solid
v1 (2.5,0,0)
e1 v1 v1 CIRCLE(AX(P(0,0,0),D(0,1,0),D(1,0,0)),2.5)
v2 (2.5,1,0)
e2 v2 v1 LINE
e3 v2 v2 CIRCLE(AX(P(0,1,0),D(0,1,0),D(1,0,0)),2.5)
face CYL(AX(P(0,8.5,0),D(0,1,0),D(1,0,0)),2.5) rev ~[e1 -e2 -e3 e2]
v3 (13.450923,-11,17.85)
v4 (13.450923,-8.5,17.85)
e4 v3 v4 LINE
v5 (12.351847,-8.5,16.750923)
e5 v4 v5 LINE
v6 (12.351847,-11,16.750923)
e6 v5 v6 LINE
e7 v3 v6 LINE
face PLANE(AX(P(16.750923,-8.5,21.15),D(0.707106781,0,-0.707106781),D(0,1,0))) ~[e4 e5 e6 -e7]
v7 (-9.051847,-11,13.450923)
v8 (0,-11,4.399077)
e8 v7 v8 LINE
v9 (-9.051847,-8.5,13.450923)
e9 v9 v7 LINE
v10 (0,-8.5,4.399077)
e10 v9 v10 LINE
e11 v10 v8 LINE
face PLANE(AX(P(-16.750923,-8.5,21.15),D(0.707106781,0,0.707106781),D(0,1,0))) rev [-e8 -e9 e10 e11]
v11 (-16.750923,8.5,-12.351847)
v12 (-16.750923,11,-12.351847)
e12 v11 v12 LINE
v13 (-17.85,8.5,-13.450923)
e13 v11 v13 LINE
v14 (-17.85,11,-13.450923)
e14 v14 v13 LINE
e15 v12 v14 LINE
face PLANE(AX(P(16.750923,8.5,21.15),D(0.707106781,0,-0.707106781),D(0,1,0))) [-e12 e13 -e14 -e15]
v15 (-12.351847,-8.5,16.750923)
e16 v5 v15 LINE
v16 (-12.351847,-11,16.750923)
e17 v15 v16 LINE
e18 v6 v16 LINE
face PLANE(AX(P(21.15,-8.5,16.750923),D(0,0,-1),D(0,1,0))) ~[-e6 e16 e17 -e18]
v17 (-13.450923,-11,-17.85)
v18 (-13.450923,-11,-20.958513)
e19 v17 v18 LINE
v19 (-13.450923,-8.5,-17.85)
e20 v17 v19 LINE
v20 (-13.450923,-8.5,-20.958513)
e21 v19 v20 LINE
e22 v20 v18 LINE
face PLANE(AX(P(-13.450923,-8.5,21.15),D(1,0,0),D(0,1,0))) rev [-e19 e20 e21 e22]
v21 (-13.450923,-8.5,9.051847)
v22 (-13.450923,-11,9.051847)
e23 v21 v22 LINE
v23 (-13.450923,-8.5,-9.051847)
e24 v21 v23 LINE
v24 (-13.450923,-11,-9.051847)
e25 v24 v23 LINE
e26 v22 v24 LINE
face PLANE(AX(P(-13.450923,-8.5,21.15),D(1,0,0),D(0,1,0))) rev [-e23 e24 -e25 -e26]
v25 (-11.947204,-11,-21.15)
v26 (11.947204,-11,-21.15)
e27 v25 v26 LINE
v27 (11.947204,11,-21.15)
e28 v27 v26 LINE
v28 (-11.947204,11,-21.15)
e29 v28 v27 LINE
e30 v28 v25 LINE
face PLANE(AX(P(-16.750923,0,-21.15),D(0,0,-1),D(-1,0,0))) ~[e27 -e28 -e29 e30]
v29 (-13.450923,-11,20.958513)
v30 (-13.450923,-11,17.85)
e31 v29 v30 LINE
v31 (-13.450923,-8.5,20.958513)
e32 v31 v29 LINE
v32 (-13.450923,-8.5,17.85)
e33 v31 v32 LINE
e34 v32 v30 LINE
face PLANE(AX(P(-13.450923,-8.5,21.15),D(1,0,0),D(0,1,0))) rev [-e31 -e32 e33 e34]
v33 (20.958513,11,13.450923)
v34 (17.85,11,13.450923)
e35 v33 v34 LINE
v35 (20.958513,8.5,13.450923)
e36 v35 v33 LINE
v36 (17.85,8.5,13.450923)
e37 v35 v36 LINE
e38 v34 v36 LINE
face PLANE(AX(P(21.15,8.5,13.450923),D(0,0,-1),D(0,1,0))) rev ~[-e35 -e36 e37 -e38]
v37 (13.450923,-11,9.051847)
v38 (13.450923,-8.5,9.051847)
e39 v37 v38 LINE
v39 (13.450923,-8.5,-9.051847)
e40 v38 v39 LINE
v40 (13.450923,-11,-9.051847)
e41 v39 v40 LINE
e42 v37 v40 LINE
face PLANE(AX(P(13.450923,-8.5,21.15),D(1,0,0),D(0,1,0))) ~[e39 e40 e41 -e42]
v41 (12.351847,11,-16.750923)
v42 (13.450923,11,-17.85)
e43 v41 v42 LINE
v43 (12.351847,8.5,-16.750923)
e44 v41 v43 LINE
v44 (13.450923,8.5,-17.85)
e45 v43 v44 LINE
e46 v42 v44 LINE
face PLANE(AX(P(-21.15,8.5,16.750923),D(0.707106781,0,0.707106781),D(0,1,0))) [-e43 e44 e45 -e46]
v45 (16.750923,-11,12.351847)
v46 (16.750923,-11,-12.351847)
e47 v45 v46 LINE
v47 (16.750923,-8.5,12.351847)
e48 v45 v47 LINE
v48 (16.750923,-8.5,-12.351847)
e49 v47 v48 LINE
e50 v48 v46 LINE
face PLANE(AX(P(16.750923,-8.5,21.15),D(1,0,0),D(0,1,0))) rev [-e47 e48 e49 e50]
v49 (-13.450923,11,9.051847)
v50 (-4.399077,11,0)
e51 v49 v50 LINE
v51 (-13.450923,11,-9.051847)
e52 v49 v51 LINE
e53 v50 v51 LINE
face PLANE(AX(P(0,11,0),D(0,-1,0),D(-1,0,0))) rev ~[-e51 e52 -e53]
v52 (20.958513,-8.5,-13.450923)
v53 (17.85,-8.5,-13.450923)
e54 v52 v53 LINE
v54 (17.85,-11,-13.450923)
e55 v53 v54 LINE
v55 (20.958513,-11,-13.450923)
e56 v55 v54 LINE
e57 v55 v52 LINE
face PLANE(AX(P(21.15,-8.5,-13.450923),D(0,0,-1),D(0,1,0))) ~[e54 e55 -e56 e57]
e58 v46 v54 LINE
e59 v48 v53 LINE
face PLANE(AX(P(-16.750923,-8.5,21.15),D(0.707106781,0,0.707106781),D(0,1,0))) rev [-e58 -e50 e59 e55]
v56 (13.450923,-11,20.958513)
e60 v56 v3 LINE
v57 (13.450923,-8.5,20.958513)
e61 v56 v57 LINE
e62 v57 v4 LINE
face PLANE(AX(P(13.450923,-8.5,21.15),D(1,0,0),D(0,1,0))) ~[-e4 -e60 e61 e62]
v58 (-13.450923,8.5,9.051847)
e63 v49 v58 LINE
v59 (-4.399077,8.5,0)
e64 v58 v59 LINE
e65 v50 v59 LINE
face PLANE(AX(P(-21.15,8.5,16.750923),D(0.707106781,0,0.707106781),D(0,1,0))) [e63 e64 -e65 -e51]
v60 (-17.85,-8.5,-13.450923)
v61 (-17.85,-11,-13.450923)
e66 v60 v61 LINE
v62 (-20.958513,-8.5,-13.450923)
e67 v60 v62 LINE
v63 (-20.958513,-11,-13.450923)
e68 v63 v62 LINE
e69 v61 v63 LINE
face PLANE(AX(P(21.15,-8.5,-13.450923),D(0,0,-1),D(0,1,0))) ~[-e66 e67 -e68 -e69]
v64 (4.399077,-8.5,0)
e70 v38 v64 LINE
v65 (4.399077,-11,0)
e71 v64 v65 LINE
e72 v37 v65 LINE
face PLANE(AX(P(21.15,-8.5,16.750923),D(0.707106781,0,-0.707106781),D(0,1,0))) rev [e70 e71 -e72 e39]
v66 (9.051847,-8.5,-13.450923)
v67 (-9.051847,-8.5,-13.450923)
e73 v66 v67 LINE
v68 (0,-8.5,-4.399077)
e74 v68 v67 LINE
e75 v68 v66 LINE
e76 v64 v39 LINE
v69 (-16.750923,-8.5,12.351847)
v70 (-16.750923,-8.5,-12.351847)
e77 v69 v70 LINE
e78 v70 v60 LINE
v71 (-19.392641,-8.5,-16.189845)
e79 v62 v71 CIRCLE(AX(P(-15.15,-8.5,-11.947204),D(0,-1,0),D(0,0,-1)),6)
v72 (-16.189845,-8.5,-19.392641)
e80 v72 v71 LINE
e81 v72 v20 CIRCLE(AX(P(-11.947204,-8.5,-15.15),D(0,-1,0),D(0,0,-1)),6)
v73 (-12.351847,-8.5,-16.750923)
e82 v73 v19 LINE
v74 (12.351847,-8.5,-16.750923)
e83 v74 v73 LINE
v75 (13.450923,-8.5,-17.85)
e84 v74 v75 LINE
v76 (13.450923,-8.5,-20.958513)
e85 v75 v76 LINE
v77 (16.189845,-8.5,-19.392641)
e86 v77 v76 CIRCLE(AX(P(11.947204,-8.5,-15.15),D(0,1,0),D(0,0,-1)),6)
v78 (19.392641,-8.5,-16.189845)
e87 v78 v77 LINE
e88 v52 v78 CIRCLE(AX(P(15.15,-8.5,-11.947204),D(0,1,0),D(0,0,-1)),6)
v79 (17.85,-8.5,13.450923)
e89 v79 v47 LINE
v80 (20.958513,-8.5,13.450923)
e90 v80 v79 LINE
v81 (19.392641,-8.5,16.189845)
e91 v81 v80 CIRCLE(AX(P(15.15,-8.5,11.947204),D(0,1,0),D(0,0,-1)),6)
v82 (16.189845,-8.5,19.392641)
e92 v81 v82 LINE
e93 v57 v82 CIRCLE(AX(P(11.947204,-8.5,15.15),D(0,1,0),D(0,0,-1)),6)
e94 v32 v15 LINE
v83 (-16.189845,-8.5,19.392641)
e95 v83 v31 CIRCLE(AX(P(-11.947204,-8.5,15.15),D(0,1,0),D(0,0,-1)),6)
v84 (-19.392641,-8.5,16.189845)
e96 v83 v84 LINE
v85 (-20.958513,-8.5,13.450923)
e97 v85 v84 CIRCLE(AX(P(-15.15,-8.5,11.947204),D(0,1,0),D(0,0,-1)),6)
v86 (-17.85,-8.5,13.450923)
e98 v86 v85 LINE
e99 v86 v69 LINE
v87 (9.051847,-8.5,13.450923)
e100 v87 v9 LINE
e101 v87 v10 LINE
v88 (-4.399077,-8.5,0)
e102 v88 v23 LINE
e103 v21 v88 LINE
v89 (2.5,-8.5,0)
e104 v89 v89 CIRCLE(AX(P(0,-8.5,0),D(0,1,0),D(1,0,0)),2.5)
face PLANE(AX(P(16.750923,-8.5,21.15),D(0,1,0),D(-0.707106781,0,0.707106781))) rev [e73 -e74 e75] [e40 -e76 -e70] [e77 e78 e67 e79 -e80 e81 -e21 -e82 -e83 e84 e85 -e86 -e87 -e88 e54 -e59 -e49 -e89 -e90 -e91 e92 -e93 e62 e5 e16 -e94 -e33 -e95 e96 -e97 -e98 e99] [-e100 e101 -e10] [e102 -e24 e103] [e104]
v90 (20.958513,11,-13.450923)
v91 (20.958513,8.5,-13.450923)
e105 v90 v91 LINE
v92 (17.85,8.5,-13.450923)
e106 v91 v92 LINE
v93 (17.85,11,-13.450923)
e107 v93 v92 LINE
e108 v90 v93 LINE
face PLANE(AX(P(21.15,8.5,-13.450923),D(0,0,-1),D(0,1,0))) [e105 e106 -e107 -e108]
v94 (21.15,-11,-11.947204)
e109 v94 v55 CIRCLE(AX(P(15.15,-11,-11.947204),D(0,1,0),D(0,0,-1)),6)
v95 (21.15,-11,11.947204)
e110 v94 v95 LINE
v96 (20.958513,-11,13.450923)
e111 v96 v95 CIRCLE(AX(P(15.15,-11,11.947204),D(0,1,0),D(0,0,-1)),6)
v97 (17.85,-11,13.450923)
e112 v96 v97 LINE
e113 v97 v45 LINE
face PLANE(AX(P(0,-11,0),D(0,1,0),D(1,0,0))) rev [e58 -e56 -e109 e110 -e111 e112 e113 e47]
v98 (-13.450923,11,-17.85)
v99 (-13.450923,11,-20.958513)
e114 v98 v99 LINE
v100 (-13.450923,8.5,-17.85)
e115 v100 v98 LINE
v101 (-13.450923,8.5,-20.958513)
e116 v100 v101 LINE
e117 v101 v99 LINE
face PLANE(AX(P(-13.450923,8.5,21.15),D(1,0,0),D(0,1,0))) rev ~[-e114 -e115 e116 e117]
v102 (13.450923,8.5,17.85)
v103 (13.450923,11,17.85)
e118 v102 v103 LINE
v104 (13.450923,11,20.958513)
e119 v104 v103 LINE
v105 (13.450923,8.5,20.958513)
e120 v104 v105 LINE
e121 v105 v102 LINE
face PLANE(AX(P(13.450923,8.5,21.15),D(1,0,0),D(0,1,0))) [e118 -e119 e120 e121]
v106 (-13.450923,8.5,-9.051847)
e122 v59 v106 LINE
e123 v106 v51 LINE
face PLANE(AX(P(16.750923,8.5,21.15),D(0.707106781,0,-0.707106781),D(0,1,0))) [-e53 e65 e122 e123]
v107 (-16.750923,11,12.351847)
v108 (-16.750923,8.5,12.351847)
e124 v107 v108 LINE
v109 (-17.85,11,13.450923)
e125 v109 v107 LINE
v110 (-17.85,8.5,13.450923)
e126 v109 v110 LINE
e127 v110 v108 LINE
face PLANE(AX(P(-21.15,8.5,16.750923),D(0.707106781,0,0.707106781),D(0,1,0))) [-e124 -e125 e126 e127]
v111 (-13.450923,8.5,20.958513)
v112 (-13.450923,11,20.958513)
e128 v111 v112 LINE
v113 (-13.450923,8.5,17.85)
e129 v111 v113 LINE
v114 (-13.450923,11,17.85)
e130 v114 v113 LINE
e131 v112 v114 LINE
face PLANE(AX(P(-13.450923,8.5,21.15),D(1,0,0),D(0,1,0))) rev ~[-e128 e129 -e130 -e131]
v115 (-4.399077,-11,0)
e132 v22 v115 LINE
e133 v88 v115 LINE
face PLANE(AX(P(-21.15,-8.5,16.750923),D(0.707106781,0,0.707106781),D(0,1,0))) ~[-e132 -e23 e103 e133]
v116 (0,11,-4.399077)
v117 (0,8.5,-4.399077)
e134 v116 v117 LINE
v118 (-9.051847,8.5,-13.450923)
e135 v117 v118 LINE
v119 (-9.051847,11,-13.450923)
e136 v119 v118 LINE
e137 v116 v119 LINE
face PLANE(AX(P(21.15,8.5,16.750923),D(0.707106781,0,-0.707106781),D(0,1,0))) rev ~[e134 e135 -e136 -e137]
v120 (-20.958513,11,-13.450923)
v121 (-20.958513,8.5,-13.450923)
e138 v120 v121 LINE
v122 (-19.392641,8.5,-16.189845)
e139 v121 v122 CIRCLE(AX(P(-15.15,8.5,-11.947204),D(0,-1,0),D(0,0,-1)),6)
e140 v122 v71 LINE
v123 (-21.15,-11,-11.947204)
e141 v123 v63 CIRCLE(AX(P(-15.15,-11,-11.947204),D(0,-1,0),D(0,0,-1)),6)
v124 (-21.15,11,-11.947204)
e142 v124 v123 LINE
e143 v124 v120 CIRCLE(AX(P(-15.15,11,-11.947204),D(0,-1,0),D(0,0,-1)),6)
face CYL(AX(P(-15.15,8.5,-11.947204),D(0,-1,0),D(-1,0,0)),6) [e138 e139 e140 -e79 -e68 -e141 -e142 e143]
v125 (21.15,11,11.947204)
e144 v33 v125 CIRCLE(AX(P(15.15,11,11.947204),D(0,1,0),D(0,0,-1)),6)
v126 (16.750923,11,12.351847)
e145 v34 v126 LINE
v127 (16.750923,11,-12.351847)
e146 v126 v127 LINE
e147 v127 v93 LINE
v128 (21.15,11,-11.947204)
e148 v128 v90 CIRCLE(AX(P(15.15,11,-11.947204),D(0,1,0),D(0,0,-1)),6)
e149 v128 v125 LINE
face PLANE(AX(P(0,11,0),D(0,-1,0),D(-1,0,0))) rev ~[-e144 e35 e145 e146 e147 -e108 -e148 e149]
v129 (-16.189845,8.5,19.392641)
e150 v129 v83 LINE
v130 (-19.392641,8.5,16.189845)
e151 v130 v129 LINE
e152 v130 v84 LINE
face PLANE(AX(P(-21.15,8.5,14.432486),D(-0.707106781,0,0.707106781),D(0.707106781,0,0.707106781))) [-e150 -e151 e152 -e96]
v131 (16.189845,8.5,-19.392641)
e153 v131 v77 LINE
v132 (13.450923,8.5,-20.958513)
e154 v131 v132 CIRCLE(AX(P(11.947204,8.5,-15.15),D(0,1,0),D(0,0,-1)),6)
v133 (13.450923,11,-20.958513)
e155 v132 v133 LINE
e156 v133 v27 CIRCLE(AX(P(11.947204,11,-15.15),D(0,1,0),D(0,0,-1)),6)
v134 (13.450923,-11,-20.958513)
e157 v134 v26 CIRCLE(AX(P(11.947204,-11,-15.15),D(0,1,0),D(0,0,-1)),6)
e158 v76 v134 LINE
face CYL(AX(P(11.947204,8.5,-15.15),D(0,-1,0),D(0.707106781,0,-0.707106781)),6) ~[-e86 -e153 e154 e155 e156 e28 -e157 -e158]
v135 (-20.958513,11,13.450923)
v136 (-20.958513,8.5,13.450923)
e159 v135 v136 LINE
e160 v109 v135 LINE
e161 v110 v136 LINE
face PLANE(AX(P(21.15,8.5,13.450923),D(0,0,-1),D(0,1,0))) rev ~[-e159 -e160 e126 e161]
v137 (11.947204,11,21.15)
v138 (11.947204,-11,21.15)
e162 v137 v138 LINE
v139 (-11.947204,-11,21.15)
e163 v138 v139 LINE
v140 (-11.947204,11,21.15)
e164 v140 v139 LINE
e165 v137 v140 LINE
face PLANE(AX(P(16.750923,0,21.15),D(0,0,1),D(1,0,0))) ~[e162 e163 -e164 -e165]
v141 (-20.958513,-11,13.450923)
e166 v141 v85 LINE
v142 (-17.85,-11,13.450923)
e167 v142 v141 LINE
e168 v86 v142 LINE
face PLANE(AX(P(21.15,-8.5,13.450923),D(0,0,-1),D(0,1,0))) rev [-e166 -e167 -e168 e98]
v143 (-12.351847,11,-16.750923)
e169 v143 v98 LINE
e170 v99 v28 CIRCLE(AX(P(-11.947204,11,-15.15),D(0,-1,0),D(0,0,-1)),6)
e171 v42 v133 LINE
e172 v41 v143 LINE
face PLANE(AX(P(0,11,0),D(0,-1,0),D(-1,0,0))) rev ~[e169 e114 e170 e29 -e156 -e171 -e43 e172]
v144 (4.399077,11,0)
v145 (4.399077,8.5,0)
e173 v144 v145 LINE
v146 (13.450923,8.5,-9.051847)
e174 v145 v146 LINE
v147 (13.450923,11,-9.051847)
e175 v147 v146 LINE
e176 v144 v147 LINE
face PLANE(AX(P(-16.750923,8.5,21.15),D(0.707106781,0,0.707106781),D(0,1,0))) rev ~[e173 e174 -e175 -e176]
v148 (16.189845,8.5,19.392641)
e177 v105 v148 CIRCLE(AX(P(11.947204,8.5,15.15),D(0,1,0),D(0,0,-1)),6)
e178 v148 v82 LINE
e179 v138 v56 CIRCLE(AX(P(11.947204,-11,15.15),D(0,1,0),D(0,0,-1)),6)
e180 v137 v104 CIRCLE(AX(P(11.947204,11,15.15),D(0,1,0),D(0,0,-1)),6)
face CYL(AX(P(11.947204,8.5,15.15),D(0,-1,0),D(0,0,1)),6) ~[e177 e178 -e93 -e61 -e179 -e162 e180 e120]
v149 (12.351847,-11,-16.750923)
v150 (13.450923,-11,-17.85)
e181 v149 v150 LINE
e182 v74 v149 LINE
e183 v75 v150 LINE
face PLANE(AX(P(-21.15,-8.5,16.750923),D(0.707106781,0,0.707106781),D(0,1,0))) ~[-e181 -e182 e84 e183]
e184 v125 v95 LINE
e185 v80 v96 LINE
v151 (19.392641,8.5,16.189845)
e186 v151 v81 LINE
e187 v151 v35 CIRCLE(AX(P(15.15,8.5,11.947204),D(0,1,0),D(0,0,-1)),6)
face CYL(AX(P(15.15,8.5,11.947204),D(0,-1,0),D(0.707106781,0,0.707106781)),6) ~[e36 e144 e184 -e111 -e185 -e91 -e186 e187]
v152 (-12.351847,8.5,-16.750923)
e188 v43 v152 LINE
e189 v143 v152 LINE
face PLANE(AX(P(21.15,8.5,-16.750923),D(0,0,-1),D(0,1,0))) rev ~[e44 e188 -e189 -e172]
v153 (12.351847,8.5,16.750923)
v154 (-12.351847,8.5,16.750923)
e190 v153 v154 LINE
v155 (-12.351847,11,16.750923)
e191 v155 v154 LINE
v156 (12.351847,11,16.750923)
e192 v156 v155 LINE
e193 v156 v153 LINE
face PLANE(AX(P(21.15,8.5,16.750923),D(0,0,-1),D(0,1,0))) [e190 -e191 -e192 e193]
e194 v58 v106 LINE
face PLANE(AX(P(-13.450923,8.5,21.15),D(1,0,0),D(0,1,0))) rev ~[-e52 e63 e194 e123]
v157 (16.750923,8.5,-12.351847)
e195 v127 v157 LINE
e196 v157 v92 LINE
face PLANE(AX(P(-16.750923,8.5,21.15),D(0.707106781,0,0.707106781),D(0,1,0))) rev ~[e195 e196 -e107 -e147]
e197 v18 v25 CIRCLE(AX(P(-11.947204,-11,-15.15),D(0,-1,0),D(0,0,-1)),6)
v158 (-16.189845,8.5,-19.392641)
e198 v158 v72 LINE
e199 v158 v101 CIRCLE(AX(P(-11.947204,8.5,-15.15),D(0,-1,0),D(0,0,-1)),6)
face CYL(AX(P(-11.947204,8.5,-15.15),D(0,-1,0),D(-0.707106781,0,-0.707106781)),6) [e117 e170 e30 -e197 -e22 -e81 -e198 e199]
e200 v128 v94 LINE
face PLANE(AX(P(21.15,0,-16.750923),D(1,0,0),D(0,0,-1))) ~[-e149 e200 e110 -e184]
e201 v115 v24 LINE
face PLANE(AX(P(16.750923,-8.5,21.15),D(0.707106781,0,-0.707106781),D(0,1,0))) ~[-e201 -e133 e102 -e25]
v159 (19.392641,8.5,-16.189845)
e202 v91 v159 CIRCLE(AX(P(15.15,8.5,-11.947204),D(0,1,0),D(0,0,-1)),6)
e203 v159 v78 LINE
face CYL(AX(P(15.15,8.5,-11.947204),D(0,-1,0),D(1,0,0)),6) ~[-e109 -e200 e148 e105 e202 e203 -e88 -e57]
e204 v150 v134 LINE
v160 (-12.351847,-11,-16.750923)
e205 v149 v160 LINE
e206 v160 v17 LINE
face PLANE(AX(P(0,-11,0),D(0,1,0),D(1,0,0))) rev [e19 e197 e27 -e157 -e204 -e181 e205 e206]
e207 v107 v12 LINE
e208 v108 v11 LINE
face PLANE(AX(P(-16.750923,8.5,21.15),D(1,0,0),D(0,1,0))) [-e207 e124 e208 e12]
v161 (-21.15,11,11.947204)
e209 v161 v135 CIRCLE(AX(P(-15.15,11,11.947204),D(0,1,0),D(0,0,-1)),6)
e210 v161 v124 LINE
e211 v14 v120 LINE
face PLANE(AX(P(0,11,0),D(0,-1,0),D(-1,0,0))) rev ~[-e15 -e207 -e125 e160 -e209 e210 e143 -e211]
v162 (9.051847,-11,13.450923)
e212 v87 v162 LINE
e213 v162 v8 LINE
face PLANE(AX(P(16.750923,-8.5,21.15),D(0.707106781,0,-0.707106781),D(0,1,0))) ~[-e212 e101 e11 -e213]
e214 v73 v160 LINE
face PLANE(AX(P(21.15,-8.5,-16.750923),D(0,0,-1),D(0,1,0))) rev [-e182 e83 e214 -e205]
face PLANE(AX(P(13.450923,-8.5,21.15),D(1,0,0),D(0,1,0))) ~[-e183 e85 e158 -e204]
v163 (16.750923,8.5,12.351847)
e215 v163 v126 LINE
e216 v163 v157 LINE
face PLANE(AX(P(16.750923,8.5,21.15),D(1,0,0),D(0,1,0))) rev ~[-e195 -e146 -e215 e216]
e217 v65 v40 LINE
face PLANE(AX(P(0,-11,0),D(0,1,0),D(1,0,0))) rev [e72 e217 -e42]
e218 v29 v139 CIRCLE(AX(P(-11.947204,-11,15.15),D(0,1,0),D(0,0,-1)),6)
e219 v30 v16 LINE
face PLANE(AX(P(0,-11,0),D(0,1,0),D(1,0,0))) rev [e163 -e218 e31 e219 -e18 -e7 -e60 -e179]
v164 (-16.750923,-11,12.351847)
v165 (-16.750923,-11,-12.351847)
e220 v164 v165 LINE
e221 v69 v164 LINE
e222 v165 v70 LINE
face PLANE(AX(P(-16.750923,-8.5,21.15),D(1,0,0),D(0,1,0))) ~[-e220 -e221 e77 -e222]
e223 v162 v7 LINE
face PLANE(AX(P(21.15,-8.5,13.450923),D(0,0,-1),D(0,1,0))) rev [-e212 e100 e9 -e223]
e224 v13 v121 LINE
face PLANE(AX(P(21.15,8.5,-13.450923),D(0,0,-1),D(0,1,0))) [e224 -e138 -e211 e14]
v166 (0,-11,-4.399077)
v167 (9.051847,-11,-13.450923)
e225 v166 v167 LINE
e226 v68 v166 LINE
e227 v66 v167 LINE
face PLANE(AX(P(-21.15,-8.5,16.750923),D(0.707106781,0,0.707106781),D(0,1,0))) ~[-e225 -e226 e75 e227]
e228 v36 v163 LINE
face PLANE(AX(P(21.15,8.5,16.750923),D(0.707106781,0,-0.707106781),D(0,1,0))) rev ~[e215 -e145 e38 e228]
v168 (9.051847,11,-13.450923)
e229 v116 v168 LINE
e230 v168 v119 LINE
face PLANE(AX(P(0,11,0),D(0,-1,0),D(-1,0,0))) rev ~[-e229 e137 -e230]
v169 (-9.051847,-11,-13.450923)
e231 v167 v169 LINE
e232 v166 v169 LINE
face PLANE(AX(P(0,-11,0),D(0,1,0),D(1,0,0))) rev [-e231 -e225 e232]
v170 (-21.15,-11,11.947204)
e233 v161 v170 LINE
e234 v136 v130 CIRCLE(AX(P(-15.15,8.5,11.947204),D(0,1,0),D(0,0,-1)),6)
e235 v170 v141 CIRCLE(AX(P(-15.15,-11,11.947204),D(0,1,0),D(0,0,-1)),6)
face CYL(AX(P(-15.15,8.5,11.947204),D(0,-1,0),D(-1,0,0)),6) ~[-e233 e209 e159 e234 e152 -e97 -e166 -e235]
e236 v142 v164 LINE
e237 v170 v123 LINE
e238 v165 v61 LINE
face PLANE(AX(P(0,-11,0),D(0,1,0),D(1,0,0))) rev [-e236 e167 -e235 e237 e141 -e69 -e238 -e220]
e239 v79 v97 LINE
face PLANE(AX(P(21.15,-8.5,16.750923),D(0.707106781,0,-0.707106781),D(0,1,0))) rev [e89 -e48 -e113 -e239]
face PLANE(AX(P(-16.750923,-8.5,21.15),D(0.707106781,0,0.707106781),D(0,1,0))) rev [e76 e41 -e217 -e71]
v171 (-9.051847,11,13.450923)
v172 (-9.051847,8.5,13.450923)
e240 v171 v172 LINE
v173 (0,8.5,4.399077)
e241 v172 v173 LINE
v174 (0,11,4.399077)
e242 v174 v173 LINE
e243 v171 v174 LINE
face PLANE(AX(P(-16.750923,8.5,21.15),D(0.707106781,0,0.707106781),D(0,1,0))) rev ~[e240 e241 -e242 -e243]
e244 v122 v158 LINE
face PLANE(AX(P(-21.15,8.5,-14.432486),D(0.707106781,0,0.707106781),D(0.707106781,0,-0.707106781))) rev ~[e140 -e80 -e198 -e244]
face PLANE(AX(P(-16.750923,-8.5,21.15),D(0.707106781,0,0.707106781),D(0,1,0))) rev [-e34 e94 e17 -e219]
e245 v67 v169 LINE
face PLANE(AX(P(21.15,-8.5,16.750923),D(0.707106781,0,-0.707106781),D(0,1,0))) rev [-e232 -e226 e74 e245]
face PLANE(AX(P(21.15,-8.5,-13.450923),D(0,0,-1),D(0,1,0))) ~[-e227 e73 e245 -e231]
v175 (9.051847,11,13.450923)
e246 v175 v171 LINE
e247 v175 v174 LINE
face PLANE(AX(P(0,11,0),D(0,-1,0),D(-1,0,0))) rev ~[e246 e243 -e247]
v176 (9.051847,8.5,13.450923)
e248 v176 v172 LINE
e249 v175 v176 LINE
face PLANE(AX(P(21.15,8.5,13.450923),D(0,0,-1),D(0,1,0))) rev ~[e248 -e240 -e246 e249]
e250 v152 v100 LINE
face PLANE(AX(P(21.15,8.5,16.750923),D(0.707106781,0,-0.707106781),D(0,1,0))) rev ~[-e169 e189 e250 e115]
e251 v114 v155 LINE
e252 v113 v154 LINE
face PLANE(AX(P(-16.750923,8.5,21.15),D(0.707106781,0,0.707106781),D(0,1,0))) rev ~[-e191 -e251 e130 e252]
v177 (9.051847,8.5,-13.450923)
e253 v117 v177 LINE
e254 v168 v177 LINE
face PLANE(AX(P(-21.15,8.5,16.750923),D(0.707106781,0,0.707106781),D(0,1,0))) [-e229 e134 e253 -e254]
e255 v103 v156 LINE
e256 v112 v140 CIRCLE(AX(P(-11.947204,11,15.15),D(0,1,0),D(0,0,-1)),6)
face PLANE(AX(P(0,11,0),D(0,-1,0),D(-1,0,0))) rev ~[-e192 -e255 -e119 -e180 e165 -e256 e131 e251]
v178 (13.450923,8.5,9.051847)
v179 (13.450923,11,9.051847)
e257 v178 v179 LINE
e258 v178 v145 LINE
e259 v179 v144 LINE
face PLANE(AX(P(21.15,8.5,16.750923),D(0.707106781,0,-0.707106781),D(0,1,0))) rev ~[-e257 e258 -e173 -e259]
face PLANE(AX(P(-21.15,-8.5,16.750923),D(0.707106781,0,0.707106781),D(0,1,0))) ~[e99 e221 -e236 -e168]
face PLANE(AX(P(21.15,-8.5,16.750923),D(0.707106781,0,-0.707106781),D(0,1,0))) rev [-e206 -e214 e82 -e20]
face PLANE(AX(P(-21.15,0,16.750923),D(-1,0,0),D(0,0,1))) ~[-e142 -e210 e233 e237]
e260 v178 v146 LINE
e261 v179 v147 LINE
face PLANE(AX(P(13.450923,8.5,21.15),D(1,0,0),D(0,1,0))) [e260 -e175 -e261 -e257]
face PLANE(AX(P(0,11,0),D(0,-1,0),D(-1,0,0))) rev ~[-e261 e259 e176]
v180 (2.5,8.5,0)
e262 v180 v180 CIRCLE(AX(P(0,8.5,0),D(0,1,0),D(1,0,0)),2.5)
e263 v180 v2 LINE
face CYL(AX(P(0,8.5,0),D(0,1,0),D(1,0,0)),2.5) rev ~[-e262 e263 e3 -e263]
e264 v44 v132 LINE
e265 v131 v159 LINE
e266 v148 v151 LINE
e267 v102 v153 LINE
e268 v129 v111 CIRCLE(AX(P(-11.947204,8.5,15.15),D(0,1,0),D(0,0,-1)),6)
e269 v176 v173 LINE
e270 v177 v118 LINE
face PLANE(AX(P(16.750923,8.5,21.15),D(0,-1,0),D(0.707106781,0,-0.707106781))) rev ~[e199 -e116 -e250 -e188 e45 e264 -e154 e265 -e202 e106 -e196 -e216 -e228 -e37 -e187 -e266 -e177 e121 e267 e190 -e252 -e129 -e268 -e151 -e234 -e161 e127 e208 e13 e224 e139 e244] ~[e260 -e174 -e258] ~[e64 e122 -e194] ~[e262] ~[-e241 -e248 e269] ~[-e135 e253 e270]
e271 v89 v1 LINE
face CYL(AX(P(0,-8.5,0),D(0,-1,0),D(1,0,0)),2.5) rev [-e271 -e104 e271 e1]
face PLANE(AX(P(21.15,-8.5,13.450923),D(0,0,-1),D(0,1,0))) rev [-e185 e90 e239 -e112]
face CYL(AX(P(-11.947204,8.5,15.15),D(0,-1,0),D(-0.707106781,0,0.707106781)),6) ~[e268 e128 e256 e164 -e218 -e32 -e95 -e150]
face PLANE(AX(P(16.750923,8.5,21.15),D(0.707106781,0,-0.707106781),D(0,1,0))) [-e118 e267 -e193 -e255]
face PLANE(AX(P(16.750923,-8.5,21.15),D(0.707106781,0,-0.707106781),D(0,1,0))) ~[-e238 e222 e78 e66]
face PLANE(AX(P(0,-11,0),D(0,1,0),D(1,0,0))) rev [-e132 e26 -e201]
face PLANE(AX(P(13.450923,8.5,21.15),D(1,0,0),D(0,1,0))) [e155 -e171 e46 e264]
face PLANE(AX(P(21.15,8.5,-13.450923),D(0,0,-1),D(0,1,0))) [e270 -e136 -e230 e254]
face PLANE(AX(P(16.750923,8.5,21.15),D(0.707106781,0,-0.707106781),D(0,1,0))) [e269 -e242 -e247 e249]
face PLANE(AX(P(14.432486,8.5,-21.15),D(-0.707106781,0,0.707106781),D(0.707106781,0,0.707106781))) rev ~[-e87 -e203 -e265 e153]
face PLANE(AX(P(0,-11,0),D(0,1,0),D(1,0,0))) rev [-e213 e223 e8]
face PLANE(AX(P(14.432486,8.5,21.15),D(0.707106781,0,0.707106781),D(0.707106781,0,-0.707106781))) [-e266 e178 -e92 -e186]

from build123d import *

# Parameters (mm, degrees)
BOSS_EXTRUDE1_DEPTH = 11
SKETCH18_W          = 3.3
SKETCH18_H          = 2.5
CUT_EXTRUDE10_DEPTH = 43.3
SKETCH19_W          = 3.3
SKETCH19_H          = 2.5
CUT_EXTRUDE11_DEPTH = 43.3
SKETCH20_W          = 6.221233688
SKETCH20_H          = 2.5
CUT_EXTRUDE12_DEPTH = 57.710616844
SKETCH21_W          = 6.221233688
SKETCH21_H          = 2.5
CUT_EXTRUDE13_DEPTH = 57.710616844
SKETCH22_R          = 2.5
CUT_EXTRUDE14_DEPTH = 9.5
CUT_EXTRUDE15_DEPTH = 20.5
FILLET8_R           = 6


with BuildPart() as part:
    # Sketch1 → Boss-Extrude1 (new body)
    with BuildSketch(Plane(origin=(0, 0, 0), x_dir=(1, 0, 0), z_dir=(0, 1, 0))):
        Polygon((-21.15, 16.750923472), (-16.750923472, 21.15), (16.750923472, 21.15), (21.15, 16.750923472), (21.15, -16.750923472), (16.750923472, -21.15), (-16.750923472, -21.15), (-21.15, -16.750923472), align=None)
    boss_extrude1 = extrude(amount=BOSS_EXTRUDE1_DEPTH)

    # Sketch18 → Cut-Extrude10 (cut, through all)
    with BuildSketch(Plane.XY.offset(21.15)):
        with Locations((15.100923472, 9.75)):
            Rectangle(SKETCH18_W, SKETCH18_H)
        with Locations((-15.100923472, 9.75)):
            Rectangle(SKETCH18_W, SKETCH18_H)
    cut_extrude10 = extrude(amount=-CUT_EXTRUDE10_DEPTH, mode=Mode.SUBTRACT)

    # Sketch19 → Cut-Extrude11 (cut, through all)
    with BuildSketch(Plane(origin=(21.15, 0, 0), x_dir=(0, 0, -1), z_dir=(1, 0, 0))):
        with Locations((-15.100923472, 9.75)):
            Rectangle(SKETCH19_W, SKETCH19_H)
        with Locations((15.100923472, 9.75)):
            Rectangle(SKETCH19_W, SKETCH19_H)
    cut_extrude11 = extrude(amount=-CUT_EXTRUDE11_DEPTH, mode=Mode.SUBTRACT)

    # Sketch20 → Cut-Extrude12 (cut, through all)
    with BuildSketch(Plane(origin=(18.950461736, 0, 18.950461736), x_dir=(0.707106781, 0, -0.707106781), z_dir=(0.707106781, 0, 0.707106781))):
        with Locations((0, 9.75)):
            Rectangle(SKETCH20_W, SKETCH20_H)
    cut_extrude12 = extrude(amount=-CUT_EXTRUDE12_DEPTH, mode=Mode.SUBTRACT)

    # Sketch21 → Cut-Extrude13 (cut, through all)
    with BuildSketch(Plane(origin=(-18.950461736, 0, 18.950461736), x_dir=(0.707106781, 0, 0.707106781), z_dir=(-0.707106781, 0, 0.707106781))):
        with Locations((0, 9.75)):
            Rectangle(SKETCH21_W, SKETCH21_H)
    cut_extrude13 = extrude(amount=-CUT_EXTRUDE13_DEPTH, mode=Mode.SUBTRACT)

    # Sketch22 → Cut-Extrude14 (cut, through all)
    with BuildSketch(Plane(origin=(0, 8.5, 0), x_dir=(1, 0, 0), z_dir=(0, 1, 0))):
        Circle(SKETCH22_R)
    cut_extrude14 = extrude(amount=-CUT_EXTRUDE14_DEPTH, mode=Mode.SUBTRACT)

    # Mirror1: Boss-Extrude1, Cut-Extrude10, Cut-Extrude11, Cut-Extrude12, Cut-Extrude13, Cut-Extrude14 across plane
    add(boss_extrude1.mirror(Plane(origin=(0, 0, 0), x_dir=(0, 0, 1), z_dir=(0, -1, 0))))
    add(cut_extrude10.mirror(Plane(origin=(0, 0, 0), x_dir=(0, 0, 1), z_dir=(0, -1, 0))), mode=Mode.SUBTRACT)
    add(cut_extrude11.mirror(Plane(origin=(0, 0, 0), x_dir=(0, 0, 1), z_dir=(0, -1, 0))), mode=Mode.SUBTRACT)
    add(cut_extrude12.mirror(Plane(origin=(0, 0, 0), x_dir=(0, 0, 1), z_dir=(0, -1, 0))), mode=Mode.SUBTRACT)
    add(cut_extrude13.mirror(Plane(origin=(0, 0, 0), x_dir=(0, 0, 1), z_dir=(0, -1, 0))), mode=Mode.SUBTRACT)
    add(cut_extrude14.mirror(Plane(origin=(0, 0, 0), x_dir=(0, 0, 1), z_dir=(0, -1, 0))), mode=Mode.SUBTRACT)

    # Sketch23 → Cut-Extrude15 (cut, through all)
    with BuildSketch(Plane(origin=(0, 8.5, 0), x_dir=(1, 0, 0), z_dir=(0, 1, 0))):
        Polygon((-21.15, -14.432485579), (-14.432485579, -21.15), (-16.750923472, -21.15), (-21.15, -16.750923472), align=None)
        Polygon((-21.15, 14.432485579), (-14.432485579, 21.15), (-16.750923472, 21.15), (-21.15, 16.750923472), align=None)
        Polygon((14.432485579, 21.15), (21.15, 14.432485579), (21.15, 16.750923472), (16.750923472, 21.15), align=None)
        Polygon((14.432485579, -21.15), (21.15, -14.432485579), (21.15, -16.750923472), (16.750923472, -21.15), align=None)
    extrude(amount=-CUT_EXTRUDE15_DEPTH, mode=Mode.SUBTRACT)

    # Fillet8
    fillet8_edges = [part.edges().sort_by_distance(p)[0] for p in [
        (14.432485579, 0, -21.15),
        (21.15, 0, -14.432485579),
        (-21.15, 0, -14.432485579),
        (-14.432485579, 0, -21.15),
        (-14.432485579, 0, 21.15),
        (-21.15, 0, 14.432485579),
        (21.15, 0, 14.432485579),
        (14.432485579, 0, 21.15),
    ]]
    fillet(fillet8_edges, radius=FILLET8_R)


solid = part.part
